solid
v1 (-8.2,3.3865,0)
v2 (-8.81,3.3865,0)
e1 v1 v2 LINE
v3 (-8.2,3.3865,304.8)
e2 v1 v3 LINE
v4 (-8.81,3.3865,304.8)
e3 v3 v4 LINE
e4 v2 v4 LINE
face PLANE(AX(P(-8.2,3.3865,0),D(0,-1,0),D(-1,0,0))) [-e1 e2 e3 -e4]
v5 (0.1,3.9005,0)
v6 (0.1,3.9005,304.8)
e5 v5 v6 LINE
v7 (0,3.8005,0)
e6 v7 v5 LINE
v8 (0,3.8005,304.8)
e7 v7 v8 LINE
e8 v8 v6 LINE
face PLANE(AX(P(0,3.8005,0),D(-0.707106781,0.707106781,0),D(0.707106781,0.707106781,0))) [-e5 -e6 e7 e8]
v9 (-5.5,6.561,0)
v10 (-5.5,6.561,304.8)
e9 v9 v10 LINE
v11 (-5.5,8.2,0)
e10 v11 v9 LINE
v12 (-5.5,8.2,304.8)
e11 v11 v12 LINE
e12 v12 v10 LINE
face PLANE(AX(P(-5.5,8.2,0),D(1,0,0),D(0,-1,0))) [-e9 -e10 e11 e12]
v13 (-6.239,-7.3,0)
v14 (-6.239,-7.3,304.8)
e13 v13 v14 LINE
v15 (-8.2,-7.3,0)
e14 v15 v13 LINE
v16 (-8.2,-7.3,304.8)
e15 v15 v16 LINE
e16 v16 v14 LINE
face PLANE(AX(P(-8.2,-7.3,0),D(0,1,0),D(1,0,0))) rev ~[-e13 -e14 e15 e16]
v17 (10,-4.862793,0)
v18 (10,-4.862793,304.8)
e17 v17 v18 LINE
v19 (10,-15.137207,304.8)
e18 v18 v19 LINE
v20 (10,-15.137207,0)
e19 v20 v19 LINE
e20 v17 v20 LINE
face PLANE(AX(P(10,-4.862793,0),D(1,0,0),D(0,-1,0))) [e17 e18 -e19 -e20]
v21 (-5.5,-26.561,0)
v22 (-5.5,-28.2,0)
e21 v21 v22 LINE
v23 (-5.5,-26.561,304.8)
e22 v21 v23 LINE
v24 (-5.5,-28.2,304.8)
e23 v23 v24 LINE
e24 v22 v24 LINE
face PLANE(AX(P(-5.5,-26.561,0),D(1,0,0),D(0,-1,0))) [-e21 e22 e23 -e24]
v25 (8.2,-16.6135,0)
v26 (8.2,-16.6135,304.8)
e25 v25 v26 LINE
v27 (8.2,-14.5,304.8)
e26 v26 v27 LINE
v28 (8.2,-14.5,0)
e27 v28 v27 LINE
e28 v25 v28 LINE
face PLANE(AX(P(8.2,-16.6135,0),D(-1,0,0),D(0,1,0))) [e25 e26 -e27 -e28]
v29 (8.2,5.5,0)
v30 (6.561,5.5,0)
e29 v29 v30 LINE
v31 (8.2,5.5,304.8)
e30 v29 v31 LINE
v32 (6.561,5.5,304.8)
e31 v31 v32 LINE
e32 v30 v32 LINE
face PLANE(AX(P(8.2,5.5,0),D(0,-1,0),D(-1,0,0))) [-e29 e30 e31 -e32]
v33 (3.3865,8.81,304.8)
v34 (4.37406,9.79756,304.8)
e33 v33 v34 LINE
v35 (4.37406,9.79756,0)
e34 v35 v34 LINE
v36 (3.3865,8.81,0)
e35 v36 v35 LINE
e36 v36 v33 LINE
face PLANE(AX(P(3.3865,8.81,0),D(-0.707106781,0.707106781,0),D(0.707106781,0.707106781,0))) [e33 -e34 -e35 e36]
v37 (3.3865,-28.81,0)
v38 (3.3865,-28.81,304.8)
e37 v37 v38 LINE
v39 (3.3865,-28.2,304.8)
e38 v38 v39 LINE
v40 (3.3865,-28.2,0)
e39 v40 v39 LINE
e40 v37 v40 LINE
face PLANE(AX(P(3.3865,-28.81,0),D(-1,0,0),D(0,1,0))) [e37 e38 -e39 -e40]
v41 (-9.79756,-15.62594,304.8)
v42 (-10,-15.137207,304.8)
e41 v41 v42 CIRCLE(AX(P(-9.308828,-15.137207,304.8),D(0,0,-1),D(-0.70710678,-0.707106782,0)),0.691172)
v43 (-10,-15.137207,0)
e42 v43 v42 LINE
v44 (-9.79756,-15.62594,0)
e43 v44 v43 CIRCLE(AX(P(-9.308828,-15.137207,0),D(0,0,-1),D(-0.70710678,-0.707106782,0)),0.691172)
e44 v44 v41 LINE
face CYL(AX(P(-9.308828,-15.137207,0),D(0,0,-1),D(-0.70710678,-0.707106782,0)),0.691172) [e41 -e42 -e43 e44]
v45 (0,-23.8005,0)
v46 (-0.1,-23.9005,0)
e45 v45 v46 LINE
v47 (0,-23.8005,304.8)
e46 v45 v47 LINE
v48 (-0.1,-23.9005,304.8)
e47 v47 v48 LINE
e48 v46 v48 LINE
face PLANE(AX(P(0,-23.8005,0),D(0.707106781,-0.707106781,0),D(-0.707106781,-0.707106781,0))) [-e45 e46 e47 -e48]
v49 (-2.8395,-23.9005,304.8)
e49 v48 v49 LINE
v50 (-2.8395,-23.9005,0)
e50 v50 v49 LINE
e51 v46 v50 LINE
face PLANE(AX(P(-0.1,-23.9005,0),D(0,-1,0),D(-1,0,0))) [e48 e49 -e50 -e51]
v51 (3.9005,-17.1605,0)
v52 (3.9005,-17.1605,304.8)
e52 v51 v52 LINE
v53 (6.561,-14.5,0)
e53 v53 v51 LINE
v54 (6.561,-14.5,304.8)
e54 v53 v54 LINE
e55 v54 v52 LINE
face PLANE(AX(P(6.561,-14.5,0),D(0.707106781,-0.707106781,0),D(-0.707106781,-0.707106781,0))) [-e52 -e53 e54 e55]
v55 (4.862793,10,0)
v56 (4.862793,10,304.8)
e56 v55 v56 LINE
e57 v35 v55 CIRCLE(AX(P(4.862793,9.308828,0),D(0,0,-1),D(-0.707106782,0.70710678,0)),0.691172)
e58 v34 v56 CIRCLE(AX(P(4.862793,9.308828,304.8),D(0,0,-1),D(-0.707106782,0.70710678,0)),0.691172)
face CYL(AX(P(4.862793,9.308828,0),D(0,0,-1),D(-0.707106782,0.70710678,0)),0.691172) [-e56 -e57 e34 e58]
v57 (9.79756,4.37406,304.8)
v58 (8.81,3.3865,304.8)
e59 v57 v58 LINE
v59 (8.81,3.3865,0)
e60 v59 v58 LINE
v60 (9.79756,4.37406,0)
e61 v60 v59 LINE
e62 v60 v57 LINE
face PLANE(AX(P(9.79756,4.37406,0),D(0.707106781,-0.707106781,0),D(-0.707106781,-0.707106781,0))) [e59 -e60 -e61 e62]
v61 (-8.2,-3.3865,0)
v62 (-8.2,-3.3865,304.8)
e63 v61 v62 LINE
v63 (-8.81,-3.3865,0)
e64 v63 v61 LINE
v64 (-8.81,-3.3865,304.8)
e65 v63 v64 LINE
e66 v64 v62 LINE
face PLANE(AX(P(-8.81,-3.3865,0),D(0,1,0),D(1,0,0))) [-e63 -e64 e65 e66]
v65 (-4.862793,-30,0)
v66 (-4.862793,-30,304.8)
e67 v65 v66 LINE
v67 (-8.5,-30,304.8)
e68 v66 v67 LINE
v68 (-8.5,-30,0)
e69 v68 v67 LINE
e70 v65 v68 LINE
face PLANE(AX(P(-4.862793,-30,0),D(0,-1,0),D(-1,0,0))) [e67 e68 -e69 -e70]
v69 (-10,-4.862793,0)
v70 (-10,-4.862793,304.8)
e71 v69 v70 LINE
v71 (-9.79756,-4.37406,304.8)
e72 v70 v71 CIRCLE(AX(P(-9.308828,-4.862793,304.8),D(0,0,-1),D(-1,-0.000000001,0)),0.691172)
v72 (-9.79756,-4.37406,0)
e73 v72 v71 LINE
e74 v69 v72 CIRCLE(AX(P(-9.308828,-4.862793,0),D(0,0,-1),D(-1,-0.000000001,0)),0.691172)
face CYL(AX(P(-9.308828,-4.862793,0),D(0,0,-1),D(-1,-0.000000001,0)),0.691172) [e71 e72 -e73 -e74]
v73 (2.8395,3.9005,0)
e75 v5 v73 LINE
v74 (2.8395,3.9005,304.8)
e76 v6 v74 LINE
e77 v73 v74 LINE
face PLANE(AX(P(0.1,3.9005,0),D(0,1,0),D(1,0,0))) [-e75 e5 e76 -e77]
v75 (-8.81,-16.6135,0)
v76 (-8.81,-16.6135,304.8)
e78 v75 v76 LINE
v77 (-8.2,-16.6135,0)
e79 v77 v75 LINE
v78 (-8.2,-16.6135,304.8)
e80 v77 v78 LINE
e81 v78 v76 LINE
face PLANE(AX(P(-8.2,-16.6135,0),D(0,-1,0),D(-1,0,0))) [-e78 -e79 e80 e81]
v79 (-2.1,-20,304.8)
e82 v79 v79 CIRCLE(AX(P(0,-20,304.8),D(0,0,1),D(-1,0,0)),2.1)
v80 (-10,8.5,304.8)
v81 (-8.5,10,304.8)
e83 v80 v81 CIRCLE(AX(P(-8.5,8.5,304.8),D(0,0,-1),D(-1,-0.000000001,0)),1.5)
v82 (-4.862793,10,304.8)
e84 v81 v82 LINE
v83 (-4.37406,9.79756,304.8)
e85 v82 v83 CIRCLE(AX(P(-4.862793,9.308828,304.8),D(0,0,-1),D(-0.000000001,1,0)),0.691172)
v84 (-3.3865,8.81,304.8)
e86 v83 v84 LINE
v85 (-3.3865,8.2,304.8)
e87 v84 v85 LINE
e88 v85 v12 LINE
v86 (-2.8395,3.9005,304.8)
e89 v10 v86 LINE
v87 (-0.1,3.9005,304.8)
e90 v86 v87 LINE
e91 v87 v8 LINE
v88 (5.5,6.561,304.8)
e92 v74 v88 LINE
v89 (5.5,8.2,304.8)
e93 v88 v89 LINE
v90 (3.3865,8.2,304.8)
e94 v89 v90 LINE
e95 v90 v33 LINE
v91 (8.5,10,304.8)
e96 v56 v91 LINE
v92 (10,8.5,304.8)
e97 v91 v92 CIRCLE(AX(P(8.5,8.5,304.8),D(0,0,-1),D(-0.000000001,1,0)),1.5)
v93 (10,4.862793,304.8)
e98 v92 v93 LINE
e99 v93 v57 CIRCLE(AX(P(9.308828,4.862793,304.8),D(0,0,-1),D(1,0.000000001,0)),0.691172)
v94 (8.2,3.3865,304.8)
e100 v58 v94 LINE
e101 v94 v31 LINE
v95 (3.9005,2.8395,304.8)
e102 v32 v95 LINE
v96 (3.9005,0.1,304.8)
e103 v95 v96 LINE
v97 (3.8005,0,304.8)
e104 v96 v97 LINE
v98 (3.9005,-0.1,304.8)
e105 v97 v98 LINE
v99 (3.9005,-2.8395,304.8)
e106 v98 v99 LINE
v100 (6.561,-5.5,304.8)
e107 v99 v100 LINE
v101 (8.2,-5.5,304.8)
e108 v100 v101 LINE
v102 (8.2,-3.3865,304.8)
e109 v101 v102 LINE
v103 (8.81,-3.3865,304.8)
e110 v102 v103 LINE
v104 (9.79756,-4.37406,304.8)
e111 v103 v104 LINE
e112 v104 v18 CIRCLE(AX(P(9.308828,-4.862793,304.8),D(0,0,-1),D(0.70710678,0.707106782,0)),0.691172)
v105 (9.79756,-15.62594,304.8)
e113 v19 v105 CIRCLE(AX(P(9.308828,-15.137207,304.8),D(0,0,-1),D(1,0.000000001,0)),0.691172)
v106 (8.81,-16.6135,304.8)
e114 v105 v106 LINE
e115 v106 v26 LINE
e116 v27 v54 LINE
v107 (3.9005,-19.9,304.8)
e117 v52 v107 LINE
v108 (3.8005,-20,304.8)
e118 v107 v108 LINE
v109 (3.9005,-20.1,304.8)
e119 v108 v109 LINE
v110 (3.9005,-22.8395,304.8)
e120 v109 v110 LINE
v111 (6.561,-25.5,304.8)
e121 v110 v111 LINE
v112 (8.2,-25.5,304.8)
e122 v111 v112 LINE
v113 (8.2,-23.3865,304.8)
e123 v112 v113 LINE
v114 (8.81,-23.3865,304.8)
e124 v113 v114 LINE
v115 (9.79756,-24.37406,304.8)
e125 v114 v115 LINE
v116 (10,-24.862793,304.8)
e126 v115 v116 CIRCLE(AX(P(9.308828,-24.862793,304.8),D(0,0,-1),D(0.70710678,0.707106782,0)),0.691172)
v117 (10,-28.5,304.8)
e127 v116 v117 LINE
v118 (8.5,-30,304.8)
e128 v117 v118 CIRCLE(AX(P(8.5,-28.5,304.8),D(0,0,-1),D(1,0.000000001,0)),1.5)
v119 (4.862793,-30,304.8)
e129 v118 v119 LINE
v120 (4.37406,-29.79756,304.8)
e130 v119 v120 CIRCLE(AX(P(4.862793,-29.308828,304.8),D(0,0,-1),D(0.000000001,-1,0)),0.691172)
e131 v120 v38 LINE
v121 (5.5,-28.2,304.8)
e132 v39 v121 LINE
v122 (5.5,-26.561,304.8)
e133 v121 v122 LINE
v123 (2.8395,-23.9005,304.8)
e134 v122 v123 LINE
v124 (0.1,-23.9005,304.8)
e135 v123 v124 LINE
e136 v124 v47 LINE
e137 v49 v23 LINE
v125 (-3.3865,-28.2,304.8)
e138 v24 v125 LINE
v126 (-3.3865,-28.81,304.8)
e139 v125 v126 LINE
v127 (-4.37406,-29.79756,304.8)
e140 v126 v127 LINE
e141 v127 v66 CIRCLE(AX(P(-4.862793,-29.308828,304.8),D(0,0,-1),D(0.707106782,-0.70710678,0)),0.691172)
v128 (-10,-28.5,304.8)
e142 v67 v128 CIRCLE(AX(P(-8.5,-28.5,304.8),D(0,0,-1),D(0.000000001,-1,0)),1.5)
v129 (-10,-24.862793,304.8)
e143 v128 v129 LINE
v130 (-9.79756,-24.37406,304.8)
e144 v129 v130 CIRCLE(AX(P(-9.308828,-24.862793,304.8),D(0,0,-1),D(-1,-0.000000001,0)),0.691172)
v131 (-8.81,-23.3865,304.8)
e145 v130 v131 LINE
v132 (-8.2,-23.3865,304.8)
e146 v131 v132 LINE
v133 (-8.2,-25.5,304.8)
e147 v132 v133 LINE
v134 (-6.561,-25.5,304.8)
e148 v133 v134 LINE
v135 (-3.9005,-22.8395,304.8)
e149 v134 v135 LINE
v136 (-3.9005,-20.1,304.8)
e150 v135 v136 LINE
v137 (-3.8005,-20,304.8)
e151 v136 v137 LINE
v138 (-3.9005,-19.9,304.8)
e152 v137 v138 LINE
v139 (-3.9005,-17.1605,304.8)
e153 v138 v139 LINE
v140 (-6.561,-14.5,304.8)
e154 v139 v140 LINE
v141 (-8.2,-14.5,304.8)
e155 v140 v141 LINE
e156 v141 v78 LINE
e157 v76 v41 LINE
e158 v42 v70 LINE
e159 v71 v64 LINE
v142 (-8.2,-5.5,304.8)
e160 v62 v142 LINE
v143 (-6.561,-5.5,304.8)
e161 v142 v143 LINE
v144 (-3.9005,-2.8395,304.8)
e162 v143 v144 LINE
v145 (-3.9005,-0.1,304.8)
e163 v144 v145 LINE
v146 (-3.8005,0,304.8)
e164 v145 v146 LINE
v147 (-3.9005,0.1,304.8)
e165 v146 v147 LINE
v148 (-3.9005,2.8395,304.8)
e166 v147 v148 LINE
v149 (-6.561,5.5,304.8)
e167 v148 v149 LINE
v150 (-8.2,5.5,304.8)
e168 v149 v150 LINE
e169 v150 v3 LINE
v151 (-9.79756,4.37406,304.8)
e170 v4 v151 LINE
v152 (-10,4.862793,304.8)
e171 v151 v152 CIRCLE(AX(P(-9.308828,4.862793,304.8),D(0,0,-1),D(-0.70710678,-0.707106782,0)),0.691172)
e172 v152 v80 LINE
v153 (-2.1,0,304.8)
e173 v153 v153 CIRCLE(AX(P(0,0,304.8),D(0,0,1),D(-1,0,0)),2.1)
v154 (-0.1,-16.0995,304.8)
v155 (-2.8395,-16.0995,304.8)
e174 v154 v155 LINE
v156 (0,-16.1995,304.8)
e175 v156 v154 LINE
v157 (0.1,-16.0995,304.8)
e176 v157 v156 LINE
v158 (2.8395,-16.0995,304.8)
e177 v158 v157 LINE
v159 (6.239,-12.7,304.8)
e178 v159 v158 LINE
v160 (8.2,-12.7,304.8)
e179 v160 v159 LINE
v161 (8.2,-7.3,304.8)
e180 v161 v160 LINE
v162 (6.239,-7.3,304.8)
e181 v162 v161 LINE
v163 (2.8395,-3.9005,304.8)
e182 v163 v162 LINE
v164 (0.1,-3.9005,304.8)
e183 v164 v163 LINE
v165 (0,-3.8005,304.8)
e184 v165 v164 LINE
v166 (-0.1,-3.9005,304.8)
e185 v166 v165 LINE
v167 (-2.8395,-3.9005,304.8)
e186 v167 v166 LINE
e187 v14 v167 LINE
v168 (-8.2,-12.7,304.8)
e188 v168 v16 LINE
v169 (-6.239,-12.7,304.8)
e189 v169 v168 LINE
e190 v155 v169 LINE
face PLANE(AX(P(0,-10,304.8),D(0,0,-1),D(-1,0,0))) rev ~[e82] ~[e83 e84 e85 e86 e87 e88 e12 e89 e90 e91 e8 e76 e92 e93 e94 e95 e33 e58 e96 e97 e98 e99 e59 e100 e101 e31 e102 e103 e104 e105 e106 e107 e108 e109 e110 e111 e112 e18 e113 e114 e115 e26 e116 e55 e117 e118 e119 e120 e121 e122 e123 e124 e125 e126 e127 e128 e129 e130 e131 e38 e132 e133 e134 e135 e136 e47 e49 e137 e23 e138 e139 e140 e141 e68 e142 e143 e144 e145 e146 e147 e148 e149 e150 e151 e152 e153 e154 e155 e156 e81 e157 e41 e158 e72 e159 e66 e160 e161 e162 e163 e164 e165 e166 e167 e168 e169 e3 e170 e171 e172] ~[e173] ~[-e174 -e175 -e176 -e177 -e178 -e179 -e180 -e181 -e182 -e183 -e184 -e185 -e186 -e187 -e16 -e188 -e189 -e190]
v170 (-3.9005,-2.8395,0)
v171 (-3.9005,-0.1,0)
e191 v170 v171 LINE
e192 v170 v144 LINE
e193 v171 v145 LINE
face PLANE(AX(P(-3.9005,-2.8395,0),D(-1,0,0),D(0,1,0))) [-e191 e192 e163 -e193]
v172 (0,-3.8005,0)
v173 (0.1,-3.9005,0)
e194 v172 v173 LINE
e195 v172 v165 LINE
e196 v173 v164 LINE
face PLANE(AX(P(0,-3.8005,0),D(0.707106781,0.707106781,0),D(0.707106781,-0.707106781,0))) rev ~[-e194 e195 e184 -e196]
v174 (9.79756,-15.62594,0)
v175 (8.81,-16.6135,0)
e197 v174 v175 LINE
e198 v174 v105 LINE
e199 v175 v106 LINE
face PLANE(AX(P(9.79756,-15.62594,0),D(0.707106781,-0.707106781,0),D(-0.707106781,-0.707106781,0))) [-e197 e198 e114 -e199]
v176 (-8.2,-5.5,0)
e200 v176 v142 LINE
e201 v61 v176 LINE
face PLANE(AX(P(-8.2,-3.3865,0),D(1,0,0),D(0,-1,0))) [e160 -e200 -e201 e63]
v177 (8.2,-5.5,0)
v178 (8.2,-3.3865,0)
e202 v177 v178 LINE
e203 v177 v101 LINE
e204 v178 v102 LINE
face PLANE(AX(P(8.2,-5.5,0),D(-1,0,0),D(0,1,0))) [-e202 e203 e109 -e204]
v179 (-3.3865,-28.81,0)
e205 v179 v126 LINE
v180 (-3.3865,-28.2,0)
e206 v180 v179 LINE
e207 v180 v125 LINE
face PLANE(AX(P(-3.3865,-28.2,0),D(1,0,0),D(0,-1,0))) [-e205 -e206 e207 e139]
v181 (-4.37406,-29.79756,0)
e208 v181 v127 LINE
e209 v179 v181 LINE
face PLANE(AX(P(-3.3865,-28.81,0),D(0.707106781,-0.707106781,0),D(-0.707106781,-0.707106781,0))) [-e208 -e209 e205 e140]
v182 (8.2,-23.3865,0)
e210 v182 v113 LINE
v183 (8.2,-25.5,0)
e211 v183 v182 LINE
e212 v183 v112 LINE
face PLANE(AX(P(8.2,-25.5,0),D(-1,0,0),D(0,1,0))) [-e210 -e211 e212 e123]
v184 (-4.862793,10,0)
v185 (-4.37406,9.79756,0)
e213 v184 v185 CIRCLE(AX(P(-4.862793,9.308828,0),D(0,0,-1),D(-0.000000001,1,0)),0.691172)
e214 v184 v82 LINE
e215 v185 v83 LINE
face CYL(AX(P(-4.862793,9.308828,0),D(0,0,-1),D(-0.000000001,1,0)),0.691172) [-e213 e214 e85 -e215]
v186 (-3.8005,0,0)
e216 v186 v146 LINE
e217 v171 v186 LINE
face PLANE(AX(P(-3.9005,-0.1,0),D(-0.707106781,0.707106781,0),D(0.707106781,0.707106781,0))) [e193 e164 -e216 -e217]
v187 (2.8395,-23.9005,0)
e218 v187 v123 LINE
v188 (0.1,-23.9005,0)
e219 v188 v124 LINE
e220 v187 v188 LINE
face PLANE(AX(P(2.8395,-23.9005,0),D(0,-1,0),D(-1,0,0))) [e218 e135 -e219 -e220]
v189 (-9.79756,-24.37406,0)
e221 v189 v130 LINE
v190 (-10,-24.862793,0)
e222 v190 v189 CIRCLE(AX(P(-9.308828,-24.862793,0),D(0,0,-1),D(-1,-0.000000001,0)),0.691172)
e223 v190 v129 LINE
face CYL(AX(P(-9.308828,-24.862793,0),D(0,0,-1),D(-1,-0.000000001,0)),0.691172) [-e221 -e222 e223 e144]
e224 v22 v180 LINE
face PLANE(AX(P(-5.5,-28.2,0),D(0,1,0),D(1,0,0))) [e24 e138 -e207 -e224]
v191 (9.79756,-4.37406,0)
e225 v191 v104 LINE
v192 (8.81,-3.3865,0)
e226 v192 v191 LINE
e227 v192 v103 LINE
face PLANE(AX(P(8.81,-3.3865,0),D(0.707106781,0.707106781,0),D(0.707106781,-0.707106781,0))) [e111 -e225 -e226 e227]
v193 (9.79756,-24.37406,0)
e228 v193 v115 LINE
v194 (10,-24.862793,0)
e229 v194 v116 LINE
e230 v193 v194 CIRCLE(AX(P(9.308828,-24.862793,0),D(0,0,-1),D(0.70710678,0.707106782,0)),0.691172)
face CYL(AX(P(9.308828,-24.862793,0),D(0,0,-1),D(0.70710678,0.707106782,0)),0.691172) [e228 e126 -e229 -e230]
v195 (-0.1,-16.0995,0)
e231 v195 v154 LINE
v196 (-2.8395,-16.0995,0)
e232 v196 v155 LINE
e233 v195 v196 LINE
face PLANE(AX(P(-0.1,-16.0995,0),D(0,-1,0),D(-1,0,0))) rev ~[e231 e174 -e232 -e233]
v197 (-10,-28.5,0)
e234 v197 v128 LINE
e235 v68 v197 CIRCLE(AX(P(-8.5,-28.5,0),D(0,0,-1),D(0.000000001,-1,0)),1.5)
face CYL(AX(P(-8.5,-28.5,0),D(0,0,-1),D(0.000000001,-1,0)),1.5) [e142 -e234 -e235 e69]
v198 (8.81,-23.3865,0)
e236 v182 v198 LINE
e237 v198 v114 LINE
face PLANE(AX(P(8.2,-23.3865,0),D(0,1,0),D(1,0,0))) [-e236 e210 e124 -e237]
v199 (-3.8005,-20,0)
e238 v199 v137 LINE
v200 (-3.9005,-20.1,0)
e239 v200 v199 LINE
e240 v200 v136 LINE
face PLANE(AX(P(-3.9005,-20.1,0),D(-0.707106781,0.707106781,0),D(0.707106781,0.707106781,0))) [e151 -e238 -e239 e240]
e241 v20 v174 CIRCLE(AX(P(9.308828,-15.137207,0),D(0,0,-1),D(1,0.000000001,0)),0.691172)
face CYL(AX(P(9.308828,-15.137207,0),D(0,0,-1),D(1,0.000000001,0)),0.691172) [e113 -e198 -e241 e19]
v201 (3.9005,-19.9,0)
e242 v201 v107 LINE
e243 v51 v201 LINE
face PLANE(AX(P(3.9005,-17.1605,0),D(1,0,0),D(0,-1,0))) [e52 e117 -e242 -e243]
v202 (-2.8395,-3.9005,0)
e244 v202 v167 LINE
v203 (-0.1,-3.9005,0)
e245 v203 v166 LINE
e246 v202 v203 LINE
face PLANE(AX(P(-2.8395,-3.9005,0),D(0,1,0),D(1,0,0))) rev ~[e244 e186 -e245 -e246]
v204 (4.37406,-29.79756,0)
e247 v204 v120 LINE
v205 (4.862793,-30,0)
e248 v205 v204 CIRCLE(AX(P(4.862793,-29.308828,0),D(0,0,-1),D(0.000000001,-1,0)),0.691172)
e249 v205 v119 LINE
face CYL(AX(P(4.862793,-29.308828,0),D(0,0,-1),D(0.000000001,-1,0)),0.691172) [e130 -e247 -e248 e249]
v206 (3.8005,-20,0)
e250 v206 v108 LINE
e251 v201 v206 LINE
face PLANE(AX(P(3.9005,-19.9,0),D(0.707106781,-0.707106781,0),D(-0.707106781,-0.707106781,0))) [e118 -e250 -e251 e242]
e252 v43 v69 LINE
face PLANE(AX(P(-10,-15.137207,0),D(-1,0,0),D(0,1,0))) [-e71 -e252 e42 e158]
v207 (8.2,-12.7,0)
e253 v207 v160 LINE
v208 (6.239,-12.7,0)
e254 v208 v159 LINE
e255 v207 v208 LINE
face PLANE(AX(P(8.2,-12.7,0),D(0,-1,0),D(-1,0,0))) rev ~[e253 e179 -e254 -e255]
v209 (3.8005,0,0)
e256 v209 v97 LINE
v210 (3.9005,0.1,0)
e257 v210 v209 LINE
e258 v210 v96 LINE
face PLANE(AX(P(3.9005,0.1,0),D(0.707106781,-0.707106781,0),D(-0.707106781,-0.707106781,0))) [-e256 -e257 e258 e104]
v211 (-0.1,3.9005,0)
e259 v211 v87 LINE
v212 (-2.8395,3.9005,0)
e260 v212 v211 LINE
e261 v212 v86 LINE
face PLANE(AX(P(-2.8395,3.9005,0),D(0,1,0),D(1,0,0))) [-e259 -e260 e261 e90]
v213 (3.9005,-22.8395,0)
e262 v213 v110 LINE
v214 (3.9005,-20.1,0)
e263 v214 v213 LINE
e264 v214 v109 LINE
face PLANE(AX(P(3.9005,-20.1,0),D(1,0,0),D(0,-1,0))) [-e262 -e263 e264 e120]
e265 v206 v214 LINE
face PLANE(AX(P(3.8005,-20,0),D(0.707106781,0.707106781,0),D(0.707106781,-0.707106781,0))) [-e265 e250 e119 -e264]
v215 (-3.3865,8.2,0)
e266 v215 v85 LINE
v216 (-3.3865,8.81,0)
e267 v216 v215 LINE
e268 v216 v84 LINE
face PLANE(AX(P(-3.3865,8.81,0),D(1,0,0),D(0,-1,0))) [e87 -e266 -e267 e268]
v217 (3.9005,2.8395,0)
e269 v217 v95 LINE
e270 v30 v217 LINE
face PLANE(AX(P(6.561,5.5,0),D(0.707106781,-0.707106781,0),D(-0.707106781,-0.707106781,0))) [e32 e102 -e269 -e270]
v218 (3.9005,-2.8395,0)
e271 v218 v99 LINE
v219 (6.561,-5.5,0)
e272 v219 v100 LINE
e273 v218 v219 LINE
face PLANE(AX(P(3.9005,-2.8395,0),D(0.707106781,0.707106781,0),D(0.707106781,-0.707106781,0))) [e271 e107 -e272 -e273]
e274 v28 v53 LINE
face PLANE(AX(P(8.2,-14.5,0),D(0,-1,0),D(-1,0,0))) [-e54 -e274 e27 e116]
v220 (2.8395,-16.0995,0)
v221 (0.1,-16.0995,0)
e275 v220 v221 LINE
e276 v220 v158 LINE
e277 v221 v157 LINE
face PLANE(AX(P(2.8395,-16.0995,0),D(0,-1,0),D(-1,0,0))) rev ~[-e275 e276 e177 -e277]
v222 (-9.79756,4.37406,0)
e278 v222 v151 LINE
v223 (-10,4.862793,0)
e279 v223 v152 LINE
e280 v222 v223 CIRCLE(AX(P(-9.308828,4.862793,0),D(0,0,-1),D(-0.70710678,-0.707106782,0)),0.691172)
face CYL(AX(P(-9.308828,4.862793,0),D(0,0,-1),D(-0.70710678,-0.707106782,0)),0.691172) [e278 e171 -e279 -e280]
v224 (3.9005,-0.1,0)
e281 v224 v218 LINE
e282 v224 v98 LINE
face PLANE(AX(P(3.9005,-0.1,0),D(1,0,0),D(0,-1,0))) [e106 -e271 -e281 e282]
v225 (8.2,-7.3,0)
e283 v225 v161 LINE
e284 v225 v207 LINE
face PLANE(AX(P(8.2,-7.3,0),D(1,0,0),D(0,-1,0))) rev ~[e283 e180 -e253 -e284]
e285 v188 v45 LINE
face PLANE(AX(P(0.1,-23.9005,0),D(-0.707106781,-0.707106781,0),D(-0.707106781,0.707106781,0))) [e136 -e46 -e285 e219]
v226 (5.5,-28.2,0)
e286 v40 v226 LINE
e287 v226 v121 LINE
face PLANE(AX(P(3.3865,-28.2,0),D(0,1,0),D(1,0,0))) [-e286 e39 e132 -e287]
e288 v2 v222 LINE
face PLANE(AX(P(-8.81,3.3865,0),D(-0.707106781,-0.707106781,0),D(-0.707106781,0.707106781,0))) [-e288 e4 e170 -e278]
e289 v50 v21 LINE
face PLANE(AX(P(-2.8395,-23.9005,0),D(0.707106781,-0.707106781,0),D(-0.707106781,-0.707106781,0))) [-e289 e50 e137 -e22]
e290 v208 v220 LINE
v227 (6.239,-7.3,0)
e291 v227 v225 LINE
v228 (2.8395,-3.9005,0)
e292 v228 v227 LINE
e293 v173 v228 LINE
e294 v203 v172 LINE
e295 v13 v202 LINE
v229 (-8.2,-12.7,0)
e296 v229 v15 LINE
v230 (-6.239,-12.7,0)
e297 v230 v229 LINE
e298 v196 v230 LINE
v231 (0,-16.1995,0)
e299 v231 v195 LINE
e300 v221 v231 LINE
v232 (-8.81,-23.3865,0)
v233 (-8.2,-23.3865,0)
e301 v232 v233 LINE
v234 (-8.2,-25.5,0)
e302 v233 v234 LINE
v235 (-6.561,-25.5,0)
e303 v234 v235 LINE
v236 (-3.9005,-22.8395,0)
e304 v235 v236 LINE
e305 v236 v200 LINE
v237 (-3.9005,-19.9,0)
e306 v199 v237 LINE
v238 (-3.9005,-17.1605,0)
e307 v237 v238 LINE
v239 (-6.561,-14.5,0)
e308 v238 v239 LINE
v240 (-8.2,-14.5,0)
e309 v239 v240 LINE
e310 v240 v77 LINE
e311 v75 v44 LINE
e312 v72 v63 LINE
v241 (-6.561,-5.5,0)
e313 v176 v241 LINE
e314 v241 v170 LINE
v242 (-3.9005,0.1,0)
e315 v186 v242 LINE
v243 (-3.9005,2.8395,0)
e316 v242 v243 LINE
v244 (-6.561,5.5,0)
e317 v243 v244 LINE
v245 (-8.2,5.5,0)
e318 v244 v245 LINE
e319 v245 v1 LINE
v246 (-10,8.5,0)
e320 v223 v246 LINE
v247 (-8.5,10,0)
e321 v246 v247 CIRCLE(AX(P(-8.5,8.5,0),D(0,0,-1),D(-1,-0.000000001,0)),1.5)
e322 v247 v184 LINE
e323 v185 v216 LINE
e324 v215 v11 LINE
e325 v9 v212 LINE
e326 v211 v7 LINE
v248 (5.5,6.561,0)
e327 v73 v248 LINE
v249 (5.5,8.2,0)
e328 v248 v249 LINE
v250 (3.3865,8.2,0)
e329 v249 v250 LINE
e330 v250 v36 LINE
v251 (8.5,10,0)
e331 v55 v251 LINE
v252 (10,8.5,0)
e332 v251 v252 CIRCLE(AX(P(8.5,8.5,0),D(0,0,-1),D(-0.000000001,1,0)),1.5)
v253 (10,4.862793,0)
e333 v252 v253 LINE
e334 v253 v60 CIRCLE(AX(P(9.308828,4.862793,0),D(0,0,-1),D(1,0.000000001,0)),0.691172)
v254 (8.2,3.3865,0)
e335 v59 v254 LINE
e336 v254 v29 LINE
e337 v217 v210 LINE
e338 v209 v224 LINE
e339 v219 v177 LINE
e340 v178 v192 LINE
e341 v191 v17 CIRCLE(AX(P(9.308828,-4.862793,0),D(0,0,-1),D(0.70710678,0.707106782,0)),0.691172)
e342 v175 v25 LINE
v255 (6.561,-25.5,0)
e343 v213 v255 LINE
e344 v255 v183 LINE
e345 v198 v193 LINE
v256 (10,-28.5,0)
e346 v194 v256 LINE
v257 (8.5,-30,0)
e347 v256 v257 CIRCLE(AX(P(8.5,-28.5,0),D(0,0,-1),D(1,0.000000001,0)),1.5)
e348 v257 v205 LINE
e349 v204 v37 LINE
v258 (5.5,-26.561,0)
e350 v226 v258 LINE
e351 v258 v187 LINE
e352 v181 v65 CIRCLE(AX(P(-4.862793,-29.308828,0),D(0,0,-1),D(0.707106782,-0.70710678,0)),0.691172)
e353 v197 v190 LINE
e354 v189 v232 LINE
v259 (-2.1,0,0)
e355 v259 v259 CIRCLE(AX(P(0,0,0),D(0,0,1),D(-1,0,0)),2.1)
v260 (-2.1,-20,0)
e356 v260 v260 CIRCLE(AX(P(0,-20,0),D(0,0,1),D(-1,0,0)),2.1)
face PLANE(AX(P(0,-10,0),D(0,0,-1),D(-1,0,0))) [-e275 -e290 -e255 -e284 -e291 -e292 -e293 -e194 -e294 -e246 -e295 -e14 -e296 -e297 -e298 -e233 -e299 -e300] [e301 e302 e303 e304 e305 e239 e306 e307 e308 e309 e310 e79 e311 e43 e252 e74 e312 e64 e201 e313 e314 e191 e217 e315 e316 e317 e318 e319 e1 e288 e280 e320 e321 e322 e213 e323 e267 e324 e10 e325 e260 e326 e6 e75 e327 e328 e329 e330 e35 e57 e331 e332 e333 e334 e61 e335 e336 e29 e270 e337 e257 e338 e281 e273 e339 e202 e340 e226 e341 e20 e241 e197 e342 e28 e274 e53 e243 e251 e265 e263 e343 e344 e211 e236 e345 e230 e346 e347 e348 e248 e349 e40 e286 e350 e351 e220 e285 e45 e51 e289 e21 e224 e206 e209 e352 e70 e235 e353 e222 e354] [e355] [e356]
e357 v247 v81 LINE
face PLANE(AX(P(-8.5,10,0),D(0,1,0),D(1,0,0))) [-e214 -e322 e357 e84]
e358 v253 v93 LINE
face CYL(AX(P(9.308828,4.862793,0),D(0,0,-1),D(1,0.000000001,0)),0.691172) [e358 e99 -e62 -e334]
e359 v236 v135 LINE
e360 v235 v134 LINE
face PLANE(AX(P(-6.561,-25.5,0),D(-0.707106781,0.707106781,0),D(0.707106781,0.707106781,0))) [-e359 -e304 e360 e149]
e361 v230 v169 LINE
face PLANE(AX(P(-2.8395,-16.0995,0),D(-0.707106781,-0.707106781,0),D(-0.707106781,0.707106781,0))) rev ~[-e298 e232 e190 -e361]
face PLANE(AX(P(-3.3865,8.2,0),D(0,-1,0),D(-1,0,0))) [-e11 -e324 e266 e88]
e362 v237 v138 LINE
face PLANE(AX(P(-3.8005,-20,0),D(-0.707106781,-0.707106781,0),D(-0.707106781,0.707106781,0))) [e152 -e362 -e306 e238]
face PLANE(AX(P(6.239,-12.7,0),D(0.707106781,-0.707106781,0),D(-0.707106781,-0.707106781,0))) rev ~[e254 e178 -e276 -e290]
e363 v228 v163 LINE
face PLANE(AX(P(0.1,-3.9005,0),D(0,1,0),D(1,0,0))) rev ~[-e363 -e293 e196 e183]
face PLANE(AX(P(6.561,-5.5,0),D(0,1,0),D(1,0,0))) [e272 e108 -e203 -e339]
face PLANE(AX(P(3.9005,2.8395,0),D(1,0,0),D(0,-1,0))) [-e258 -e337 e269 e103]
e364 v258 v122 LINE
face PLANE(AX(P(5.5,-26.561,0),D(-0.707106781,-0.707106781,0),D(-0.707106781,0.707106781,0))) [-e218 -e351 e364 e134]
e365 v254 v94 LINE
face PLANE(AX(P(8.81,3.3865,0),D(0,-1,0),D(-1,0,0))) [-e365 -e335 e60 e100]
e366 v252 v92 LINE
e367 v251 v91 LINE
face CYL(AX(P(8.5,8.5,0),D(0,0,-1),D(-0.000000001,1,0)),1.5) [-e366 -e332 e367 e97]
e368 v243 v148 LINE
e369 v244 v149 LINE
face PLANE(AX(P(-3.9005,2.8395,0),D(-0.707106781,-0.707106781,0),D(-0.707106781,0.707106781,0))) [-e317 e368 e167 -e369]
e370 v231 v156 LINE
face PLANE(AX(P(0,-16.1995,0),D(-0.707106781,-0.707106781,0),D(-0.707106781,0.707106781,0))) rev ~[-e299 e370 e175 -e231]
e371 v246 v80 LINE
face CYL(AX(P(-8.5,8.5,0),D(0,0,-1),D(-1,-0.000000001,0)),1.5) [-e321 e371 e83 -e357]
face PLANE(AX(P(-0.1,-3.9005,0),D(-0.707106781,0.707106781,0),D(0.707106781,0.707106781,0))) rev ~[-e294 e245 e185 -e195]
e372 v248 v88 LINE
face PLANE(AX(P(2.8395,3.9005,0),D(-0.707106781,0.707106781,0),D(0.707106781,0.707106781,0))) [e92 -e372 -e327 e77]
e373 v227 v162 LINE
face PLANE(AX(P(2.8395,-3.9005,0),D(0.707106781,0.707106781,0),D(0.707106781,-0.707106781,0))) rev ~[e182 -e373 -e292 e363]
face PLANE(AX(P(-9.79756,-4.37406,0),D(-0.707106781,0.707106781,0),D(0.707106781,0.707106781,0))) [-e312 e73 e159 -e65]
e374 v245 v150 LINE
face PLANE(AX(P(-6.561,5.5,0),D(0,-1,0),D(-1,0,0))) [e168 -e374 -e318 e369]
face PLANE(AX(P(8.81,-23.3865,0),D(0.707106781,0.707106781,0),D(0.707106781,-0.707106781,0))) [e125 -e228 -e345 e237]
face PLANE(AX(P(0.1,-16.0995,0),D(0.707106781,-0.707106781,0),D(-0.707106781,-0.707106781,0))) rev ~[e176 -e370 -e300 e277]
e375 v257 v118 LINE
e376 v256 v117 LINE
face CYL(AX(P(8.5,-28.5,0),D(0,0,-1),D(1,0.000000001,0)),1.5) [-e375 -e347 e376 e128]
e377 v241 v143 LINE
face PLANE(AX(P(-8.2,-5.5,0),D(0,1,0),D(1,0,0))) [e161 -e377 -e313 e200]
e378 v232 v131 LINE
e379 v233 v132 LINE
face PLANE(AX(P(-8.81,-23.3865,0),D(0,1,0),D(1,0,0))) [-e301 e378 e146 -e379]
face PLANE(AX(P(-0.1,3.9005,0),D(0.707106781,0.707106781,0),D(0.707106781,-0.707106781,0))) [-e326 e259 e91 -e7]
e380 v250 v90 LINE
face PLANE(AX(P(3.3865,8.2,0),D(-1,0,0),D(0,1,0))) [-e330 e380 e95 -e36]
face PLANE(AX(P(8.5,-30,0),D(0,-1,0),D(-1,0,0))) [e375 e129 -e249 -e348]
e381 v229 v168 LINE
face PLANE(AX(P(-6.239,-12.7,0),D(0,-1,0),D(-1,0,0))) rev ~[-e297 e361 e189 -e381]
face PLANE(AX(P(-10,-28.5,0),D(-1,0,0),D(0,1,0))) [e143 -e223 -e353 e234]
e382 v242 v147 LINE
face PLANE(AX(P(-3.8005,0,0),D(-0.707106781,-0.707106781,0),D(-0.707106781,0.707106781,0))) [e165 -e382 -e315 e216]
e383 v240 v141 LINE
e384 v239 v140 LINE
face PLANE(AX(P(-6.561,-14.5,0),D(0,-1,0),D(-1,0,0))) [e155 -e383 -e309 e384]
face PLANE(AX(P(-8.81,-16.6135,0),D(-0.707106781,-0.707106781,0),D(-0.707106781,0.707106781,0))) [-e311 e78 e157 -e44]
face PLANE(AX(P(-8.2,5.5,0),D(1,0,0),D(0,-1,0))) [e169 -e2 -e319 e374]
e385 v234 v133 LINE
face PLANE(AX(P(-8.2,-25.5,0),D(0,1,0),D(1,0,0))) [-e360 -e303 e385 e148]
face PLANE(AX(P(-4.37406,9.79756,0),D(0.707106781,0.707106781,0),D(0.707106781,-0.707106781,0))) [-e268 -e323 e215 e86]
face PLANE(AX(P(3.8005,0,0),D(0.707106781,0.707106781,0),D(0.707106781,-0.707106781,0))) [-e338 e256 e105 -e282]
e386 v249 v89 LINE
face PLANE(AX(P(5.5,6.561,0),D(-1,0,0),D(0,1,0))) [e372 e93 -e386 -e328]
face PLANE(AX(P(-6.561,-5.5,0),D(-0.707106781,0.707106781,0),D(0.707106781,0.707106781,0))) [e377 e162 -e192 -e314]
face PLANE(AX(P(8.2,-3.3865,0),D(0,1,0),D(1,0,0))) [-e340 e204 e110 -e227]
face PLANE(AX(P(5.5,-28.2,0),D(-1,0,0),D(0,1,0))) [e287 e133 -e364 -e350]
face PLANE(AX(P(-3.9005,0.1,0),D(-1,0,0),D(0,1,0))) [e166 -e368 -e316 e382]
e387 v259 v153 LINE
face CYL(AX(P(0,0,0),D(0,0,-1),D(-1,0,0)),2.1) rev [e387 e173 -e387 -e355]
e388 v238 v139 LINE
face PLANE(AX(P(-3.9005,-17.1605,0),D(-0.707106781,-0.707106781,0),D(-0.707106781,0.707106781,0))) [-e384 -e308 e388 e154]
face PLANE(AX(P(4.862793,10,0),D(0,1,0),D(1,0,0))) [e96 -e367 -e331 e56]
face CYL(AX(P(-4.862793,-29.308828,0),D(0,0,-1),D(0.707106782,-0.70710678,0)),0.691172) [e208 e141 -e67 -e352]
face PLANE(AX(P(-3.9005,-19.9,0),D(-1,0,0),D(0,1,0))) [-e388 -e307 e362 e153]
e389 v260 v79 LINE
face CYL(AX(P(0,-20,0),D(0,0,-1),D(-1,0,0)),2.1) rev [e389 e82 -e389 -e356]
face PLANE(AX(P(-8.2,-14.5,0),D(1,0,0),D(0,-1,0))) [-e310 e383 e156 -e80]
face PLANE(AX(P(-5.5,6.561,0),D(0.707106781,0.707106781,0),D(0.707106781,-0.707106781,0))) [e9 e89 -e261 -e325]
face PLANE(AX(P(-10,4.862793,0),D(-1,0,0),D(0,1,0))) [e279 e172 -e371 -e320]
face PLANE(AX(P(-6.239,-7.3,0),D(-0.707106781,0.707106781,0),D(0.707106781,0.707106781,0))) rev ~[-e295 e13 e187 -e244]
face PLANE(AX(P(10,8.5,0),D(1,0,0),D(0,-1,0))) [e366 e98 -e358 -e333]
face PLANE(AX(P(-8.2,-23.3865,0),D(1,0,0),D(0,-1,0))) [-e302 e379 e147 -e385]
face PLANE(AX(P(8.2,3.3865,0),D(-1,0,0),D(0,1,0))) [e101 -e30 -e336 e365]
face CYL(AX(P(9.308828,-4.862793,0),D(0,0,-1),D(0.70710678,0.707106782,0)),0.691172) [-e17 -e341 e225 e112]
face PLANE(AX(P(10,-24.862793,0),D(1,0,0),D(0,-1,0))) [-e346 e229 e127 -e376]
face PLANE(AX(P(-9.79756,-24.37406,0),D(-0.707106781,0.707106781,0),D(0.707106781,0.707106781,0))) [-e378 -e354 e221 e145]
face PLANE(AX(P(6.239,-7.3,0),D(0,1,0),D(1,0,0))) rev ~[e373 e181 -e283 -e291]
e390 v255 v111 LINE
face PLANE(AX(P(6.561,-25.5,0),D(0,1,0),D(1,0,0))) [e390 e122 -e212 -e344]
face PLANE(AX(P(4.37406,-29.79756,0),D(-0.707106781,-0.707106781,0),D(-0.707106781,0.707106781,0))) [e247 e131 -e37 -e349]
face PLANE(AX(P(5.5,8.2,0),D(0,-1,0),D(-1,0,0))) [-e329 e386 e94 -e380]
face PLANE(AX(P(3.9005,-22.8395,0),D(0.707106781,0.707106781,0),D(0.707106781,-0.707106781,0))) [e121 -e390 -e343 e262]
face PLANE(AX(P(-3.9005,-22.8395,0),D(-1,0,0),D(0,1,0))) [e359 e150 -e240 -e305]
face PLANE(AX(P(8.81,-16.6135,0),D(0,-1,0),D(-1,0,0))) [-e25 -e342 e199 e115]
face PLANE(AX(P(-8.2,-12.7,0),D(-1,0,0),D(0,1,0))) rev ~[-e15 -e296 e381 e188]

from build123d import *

# Parameters (mm, degrees)
SKETCH1_R           = 2.1
BOSS_EXTRUDE2_DEPTH = 304.8


with BuildPart() as part:
    # Sketch1 → Boss-Extrude2 (new body)
    with BuildSketch(Plane.XY):
        with BuildLine():
            Line((-8.5, 10), (-4.862792737, 10))
            ThreePointArc((-4.862792737, 10), (-4.598292737, 9.947387679), (-4.374060464, 9.797560464))
            Line((-4.374060464, 9.797560464), (-3.3865, 8.81))
            Line((-3.3865, 8.81), (-3.3865, 8.2))
            Line((-3.3865, 8.2), (-5.5, 8.2))
            Line((-5.5, 8.2), (-5.5, 6.561))
            Line((-5.5, 6.561), (-2.8395, 3.9005))
            Line((-2.8395, 3.9005), (-0.1, 3.9005))
            Line((-0.1, 3.9005), (0, 3.8005))
            Line((0, 3.8005), (0.1, 3.9005))
            Line((0.1, 3.9005), (2.8395, 3.9005))
            Line((2.8395, 3.9005), (5.5, 6.561))
            Line((5.5, 6.561), (5.5, 8.2))
            Line((5.5, 8.2), (3.3865, 8.2))
            Line((3.3865, 8.2), (3.3865, 8.81))
            Line((3.3865, 8.81), (4.374060464, 9.797560464))
            ThreePointArc((4.374060464, 9.797560464), (4.598292737, 9.947387679), (4.862792737, 10))
            Line((4.862792737, 10), (8.5, 10))
            ThreePointArc((8.5, 10), (9.560660172, 9.560660172), (10, 8.5))
            Line((10, 8.5), (10, 4.862792737))
            ThreePointArc((10, 4.862792737), (9.947387679, 4.598292737), (9.797560464, 4.374060464))
            Line((9.797560464, 4.374060464), (8.81, 3.3865))
            Line((8.81, 3.3865), (8.2, 3.3865))
            Line((8.2, 3.3865), (8.2, 5.5))
            Line((8.2, 5.5), (6.561, 5.5))
            Line((6.561, 5.5), (3.9005, 2.8395))
            Line((3.9005, 2.8395), (3.9005, 0.1))
            Line((3.9005, 0.1), (3.8005, 0))
            Line((3.8005, 0), (3.9005, -0.1))
            Line((3.9005, -0.1), (3.9005, -2.8395))
            Line((3.9005, -2.8395), (6.561, -5.5))
            Line((6.561, -5.5), (8.2, -5.5))
            Line((8.2, -5.5), (8.2, -3.3865))
            Line((8.2, -3.3865), (8.81, -3.3865))
            Line((8.81, -3.3865), (9.797560464, -4.374060464))
            ThreePointArc((9.797560464, -4.374060464), (9.947387679, -4.598292737), (10, -4.862792737))
            Line((10, -4.862792737), (10, -15.137207263))
            ThreePointArc((10, -15.137207263), (9.947387679, -15.401707263), (9.797560464, -15.625939536))
            Line((9.797560464, -15.625939536), (8.81, -16.6135))
            Line((8.81, -16.6135), (8.2, -16.6135))
            Line((8.2, -16.6135), (8.2, -14.5))
            Line((8.2, -14.5), (6.561, -14.5))
            Line((6.561, -14.5), (3.9005, -17.1605))
            Line((3.9005, -17.1605), (3.9005, -19.9))
            Line((3.9005, -19.9), (3.8005, -20))
            Line((3.8005, -20), (3.9005, -20.1))
            Line((3.9005, -20.1), (3.9005, -22.8395))
            Line((3.9005, -22.8395), (6.561, -25.5))
            Line((6.561, -25.5), (8.2, -25.5))
            Line((8.2, -25.5), (8.2, -23.3865))
            Line((8.2, -23.3865), (8.81, -23.3865))
            Line((8.81, -23.3865), (9.797560464, -24.374060464))
            ThreePointArc((9.797560464, -24.374060464), (9.947387679, -24.598292737), (10, -24.862792737))
            Line((10, -24.862792737), (10, -28.5))
            ThreePointArc((10, -28.5), (9.560660172, -29.560660172), (8.5, -30))
            Line((8.5, -30), (4.862792737, -30))
            ThreePointArc((4.862792737, -30), (4.598292737, -29.947387679), (4.374060464, -29.797560464))
            Line((4.374060464, -29.797560464), (3.3865, -28.81))
            Line((3.3865, -28.81), (3.3865, -28.2))
            Line((3.3865, -28.2), (5.5, -28.2))
            Line((5.5, -28.2), (5.5, -26.561))
            Line((5.5, -26.561), (2.8395, -23.9005))
            Line((2.8395, -23.9005), (0.1, -23.9005))
            Line((0.1, -23.9005), (0, -23.8005))
            Line((0, -23.8005), (-0.1, -23.9005))
            Line((-0.1, -23.9005), (-2.8395, -23.9005))
            Line((-2.8395, -23.9005), (-5.5, -26.561))
            Line((-5.5, -26.561), (-5.5, -28.2))
            Line((-5.5, -28.2), (-3.3865, -28.2))
            Line((-3.3865, -28.2), (-3.3865, -28.81))
            Line((-3.3865, -28.81), (-4.374060464, -29.797560464))
            ThreePointArc((-4.374060464, -29.797560464), (-4.598292737, -29.947387679), (-4.862792737, -30))
            Line((-4.862792737, -30), (-8.5, -30))
            ThreePointArc((-8.5, -30), (-9.560660172, -29.560660172), (-10, -28.5))
            Line((-10, -28.5), (-10, -24.862792737))
            ThreePointArc((-10, -24.862792737), (-9.947387679, -24.598292737), (-9.797560464, -24.374060464))
            Line((-9.797560464, -24.374060464), (-8.81, -23.3865))
            Line((-8.81, -23.3865), (-8.2, -23.3865))
            Line((-8.2, -23.3865), (-8.2, -25.5))
            Line((-8.2, -25.5), (-6.561, -25.5))
            Line((-6.561, -25.5), (-3.9005, -22.8395))
            Line((-3.9005, -22.8395), (-3.9005, -20.1))
            Line((-3.9005, -20.1), (-3.8005, -20))
            Line((-3.8005, -20), (-3.9005, -19.9))
            Line((-3.9005, -19.9), (-3.9005, -17.1605))
            Line((-3.9005, -17.1605), (-6.561, -14.5))
            Line((-6.561, -14.5), (-8.2, -14.5))
            Line((-8.2, -14.5), (-8.2, -16.6135))
            Line((-8.2, -16.6135), (-8.81, -16.6135))
            Line((-8.81, -16.6135), (-9.797560464, -15.625939536))
            ThreePointArc((-9.797560464, -15.625939536), (-9.947387679, -15.401707263), (-10, -15.137207263))
            Line((-10, -15.137207263), (-10, -4.862792737))
            ThreePointArc((-10, -4.862792737), (-9.947387679, -4.598292737), (-9.797560464, -4.374060464))
            Line((-9.797560464, -4.374060464), (-8.81, -3.3865))
            Line((-8.81, -3.3865), (-8.2, -3.3865))
            Line((-8.2, -3.3865), (-8.2, -5.5))
            Line((-8.2, -5.5), (-6.561, -5.5))
            Line((-6.561, -5.5), (-3.9005, -2.8395))
            Line((-3.9005, -2.8395), (-3.9005, -0.1))
            Line((-3.9005, -0.1), (-3.8005, 0))
            Line((-3.8005, 0), (-3.9005, 0.1))
            Line((-3.9005, 0.1), (-3.9005, 2.8395))
            Line((-3.9005, 2.8395), (-6.561, 5.5))
            Line((-6.561, 5.5), (-8.2, 5.5))
            Line((-8.2, 5.5), (-8.2, 3.3865))
            Line((-8.2, 3.3865), (-8.81, 3.3865))
            Line((-8.81, 3.3865), (-9.797560464, 4.374060464))
            ThreePointArc((-9.797560464, 4.374060464), (-9.947387679, 4.598292737), (-10, 4.862792737))
            Line((-10, 4.862792737), (-10, 8.5))
            ThreePointArc((-10, 8.5), (-9.560660172, 9.560660172), (-8.5, 10))
        make_face()
        with Locations(Location((0, 0, 0), (0, 0, 180))):
            Circle(SKETCH1_R, mode=Mode.SUBTRACT)
        with Locations(Location((0, -20, 0), (0, 0, 180))):
            Circle(SKETCH1_R, mode=Mode.SUBTRACT)
        Polygon((-8.2, -12.7), (-8.2, -7.3), (-6.239, -7.3), (-5.5, -6.561), (-2.8395, -3.9005), (-0.1, -3.9005), (0, -3.8005), (0.1, -3.9005), (2.8395, -3.9005), (5.5, -6.561), (6.239, -7.3), (8.2, -7.3), (8.2, -12.7), (6.239, -12.7), (5.5, -13.439), (2.8395, -16.0995), (0.1, -16.0995), (0, -16.1995), (-0.1, -16.0995), (-2.8395, -16.0995), (-5.5, -13.439), (-6.239, -12.7), align=None, mode=Mode.SUBTRACT)
    extrude(amount=BOSS_EXTRUDE2_DEPTH)


solid = part.part
